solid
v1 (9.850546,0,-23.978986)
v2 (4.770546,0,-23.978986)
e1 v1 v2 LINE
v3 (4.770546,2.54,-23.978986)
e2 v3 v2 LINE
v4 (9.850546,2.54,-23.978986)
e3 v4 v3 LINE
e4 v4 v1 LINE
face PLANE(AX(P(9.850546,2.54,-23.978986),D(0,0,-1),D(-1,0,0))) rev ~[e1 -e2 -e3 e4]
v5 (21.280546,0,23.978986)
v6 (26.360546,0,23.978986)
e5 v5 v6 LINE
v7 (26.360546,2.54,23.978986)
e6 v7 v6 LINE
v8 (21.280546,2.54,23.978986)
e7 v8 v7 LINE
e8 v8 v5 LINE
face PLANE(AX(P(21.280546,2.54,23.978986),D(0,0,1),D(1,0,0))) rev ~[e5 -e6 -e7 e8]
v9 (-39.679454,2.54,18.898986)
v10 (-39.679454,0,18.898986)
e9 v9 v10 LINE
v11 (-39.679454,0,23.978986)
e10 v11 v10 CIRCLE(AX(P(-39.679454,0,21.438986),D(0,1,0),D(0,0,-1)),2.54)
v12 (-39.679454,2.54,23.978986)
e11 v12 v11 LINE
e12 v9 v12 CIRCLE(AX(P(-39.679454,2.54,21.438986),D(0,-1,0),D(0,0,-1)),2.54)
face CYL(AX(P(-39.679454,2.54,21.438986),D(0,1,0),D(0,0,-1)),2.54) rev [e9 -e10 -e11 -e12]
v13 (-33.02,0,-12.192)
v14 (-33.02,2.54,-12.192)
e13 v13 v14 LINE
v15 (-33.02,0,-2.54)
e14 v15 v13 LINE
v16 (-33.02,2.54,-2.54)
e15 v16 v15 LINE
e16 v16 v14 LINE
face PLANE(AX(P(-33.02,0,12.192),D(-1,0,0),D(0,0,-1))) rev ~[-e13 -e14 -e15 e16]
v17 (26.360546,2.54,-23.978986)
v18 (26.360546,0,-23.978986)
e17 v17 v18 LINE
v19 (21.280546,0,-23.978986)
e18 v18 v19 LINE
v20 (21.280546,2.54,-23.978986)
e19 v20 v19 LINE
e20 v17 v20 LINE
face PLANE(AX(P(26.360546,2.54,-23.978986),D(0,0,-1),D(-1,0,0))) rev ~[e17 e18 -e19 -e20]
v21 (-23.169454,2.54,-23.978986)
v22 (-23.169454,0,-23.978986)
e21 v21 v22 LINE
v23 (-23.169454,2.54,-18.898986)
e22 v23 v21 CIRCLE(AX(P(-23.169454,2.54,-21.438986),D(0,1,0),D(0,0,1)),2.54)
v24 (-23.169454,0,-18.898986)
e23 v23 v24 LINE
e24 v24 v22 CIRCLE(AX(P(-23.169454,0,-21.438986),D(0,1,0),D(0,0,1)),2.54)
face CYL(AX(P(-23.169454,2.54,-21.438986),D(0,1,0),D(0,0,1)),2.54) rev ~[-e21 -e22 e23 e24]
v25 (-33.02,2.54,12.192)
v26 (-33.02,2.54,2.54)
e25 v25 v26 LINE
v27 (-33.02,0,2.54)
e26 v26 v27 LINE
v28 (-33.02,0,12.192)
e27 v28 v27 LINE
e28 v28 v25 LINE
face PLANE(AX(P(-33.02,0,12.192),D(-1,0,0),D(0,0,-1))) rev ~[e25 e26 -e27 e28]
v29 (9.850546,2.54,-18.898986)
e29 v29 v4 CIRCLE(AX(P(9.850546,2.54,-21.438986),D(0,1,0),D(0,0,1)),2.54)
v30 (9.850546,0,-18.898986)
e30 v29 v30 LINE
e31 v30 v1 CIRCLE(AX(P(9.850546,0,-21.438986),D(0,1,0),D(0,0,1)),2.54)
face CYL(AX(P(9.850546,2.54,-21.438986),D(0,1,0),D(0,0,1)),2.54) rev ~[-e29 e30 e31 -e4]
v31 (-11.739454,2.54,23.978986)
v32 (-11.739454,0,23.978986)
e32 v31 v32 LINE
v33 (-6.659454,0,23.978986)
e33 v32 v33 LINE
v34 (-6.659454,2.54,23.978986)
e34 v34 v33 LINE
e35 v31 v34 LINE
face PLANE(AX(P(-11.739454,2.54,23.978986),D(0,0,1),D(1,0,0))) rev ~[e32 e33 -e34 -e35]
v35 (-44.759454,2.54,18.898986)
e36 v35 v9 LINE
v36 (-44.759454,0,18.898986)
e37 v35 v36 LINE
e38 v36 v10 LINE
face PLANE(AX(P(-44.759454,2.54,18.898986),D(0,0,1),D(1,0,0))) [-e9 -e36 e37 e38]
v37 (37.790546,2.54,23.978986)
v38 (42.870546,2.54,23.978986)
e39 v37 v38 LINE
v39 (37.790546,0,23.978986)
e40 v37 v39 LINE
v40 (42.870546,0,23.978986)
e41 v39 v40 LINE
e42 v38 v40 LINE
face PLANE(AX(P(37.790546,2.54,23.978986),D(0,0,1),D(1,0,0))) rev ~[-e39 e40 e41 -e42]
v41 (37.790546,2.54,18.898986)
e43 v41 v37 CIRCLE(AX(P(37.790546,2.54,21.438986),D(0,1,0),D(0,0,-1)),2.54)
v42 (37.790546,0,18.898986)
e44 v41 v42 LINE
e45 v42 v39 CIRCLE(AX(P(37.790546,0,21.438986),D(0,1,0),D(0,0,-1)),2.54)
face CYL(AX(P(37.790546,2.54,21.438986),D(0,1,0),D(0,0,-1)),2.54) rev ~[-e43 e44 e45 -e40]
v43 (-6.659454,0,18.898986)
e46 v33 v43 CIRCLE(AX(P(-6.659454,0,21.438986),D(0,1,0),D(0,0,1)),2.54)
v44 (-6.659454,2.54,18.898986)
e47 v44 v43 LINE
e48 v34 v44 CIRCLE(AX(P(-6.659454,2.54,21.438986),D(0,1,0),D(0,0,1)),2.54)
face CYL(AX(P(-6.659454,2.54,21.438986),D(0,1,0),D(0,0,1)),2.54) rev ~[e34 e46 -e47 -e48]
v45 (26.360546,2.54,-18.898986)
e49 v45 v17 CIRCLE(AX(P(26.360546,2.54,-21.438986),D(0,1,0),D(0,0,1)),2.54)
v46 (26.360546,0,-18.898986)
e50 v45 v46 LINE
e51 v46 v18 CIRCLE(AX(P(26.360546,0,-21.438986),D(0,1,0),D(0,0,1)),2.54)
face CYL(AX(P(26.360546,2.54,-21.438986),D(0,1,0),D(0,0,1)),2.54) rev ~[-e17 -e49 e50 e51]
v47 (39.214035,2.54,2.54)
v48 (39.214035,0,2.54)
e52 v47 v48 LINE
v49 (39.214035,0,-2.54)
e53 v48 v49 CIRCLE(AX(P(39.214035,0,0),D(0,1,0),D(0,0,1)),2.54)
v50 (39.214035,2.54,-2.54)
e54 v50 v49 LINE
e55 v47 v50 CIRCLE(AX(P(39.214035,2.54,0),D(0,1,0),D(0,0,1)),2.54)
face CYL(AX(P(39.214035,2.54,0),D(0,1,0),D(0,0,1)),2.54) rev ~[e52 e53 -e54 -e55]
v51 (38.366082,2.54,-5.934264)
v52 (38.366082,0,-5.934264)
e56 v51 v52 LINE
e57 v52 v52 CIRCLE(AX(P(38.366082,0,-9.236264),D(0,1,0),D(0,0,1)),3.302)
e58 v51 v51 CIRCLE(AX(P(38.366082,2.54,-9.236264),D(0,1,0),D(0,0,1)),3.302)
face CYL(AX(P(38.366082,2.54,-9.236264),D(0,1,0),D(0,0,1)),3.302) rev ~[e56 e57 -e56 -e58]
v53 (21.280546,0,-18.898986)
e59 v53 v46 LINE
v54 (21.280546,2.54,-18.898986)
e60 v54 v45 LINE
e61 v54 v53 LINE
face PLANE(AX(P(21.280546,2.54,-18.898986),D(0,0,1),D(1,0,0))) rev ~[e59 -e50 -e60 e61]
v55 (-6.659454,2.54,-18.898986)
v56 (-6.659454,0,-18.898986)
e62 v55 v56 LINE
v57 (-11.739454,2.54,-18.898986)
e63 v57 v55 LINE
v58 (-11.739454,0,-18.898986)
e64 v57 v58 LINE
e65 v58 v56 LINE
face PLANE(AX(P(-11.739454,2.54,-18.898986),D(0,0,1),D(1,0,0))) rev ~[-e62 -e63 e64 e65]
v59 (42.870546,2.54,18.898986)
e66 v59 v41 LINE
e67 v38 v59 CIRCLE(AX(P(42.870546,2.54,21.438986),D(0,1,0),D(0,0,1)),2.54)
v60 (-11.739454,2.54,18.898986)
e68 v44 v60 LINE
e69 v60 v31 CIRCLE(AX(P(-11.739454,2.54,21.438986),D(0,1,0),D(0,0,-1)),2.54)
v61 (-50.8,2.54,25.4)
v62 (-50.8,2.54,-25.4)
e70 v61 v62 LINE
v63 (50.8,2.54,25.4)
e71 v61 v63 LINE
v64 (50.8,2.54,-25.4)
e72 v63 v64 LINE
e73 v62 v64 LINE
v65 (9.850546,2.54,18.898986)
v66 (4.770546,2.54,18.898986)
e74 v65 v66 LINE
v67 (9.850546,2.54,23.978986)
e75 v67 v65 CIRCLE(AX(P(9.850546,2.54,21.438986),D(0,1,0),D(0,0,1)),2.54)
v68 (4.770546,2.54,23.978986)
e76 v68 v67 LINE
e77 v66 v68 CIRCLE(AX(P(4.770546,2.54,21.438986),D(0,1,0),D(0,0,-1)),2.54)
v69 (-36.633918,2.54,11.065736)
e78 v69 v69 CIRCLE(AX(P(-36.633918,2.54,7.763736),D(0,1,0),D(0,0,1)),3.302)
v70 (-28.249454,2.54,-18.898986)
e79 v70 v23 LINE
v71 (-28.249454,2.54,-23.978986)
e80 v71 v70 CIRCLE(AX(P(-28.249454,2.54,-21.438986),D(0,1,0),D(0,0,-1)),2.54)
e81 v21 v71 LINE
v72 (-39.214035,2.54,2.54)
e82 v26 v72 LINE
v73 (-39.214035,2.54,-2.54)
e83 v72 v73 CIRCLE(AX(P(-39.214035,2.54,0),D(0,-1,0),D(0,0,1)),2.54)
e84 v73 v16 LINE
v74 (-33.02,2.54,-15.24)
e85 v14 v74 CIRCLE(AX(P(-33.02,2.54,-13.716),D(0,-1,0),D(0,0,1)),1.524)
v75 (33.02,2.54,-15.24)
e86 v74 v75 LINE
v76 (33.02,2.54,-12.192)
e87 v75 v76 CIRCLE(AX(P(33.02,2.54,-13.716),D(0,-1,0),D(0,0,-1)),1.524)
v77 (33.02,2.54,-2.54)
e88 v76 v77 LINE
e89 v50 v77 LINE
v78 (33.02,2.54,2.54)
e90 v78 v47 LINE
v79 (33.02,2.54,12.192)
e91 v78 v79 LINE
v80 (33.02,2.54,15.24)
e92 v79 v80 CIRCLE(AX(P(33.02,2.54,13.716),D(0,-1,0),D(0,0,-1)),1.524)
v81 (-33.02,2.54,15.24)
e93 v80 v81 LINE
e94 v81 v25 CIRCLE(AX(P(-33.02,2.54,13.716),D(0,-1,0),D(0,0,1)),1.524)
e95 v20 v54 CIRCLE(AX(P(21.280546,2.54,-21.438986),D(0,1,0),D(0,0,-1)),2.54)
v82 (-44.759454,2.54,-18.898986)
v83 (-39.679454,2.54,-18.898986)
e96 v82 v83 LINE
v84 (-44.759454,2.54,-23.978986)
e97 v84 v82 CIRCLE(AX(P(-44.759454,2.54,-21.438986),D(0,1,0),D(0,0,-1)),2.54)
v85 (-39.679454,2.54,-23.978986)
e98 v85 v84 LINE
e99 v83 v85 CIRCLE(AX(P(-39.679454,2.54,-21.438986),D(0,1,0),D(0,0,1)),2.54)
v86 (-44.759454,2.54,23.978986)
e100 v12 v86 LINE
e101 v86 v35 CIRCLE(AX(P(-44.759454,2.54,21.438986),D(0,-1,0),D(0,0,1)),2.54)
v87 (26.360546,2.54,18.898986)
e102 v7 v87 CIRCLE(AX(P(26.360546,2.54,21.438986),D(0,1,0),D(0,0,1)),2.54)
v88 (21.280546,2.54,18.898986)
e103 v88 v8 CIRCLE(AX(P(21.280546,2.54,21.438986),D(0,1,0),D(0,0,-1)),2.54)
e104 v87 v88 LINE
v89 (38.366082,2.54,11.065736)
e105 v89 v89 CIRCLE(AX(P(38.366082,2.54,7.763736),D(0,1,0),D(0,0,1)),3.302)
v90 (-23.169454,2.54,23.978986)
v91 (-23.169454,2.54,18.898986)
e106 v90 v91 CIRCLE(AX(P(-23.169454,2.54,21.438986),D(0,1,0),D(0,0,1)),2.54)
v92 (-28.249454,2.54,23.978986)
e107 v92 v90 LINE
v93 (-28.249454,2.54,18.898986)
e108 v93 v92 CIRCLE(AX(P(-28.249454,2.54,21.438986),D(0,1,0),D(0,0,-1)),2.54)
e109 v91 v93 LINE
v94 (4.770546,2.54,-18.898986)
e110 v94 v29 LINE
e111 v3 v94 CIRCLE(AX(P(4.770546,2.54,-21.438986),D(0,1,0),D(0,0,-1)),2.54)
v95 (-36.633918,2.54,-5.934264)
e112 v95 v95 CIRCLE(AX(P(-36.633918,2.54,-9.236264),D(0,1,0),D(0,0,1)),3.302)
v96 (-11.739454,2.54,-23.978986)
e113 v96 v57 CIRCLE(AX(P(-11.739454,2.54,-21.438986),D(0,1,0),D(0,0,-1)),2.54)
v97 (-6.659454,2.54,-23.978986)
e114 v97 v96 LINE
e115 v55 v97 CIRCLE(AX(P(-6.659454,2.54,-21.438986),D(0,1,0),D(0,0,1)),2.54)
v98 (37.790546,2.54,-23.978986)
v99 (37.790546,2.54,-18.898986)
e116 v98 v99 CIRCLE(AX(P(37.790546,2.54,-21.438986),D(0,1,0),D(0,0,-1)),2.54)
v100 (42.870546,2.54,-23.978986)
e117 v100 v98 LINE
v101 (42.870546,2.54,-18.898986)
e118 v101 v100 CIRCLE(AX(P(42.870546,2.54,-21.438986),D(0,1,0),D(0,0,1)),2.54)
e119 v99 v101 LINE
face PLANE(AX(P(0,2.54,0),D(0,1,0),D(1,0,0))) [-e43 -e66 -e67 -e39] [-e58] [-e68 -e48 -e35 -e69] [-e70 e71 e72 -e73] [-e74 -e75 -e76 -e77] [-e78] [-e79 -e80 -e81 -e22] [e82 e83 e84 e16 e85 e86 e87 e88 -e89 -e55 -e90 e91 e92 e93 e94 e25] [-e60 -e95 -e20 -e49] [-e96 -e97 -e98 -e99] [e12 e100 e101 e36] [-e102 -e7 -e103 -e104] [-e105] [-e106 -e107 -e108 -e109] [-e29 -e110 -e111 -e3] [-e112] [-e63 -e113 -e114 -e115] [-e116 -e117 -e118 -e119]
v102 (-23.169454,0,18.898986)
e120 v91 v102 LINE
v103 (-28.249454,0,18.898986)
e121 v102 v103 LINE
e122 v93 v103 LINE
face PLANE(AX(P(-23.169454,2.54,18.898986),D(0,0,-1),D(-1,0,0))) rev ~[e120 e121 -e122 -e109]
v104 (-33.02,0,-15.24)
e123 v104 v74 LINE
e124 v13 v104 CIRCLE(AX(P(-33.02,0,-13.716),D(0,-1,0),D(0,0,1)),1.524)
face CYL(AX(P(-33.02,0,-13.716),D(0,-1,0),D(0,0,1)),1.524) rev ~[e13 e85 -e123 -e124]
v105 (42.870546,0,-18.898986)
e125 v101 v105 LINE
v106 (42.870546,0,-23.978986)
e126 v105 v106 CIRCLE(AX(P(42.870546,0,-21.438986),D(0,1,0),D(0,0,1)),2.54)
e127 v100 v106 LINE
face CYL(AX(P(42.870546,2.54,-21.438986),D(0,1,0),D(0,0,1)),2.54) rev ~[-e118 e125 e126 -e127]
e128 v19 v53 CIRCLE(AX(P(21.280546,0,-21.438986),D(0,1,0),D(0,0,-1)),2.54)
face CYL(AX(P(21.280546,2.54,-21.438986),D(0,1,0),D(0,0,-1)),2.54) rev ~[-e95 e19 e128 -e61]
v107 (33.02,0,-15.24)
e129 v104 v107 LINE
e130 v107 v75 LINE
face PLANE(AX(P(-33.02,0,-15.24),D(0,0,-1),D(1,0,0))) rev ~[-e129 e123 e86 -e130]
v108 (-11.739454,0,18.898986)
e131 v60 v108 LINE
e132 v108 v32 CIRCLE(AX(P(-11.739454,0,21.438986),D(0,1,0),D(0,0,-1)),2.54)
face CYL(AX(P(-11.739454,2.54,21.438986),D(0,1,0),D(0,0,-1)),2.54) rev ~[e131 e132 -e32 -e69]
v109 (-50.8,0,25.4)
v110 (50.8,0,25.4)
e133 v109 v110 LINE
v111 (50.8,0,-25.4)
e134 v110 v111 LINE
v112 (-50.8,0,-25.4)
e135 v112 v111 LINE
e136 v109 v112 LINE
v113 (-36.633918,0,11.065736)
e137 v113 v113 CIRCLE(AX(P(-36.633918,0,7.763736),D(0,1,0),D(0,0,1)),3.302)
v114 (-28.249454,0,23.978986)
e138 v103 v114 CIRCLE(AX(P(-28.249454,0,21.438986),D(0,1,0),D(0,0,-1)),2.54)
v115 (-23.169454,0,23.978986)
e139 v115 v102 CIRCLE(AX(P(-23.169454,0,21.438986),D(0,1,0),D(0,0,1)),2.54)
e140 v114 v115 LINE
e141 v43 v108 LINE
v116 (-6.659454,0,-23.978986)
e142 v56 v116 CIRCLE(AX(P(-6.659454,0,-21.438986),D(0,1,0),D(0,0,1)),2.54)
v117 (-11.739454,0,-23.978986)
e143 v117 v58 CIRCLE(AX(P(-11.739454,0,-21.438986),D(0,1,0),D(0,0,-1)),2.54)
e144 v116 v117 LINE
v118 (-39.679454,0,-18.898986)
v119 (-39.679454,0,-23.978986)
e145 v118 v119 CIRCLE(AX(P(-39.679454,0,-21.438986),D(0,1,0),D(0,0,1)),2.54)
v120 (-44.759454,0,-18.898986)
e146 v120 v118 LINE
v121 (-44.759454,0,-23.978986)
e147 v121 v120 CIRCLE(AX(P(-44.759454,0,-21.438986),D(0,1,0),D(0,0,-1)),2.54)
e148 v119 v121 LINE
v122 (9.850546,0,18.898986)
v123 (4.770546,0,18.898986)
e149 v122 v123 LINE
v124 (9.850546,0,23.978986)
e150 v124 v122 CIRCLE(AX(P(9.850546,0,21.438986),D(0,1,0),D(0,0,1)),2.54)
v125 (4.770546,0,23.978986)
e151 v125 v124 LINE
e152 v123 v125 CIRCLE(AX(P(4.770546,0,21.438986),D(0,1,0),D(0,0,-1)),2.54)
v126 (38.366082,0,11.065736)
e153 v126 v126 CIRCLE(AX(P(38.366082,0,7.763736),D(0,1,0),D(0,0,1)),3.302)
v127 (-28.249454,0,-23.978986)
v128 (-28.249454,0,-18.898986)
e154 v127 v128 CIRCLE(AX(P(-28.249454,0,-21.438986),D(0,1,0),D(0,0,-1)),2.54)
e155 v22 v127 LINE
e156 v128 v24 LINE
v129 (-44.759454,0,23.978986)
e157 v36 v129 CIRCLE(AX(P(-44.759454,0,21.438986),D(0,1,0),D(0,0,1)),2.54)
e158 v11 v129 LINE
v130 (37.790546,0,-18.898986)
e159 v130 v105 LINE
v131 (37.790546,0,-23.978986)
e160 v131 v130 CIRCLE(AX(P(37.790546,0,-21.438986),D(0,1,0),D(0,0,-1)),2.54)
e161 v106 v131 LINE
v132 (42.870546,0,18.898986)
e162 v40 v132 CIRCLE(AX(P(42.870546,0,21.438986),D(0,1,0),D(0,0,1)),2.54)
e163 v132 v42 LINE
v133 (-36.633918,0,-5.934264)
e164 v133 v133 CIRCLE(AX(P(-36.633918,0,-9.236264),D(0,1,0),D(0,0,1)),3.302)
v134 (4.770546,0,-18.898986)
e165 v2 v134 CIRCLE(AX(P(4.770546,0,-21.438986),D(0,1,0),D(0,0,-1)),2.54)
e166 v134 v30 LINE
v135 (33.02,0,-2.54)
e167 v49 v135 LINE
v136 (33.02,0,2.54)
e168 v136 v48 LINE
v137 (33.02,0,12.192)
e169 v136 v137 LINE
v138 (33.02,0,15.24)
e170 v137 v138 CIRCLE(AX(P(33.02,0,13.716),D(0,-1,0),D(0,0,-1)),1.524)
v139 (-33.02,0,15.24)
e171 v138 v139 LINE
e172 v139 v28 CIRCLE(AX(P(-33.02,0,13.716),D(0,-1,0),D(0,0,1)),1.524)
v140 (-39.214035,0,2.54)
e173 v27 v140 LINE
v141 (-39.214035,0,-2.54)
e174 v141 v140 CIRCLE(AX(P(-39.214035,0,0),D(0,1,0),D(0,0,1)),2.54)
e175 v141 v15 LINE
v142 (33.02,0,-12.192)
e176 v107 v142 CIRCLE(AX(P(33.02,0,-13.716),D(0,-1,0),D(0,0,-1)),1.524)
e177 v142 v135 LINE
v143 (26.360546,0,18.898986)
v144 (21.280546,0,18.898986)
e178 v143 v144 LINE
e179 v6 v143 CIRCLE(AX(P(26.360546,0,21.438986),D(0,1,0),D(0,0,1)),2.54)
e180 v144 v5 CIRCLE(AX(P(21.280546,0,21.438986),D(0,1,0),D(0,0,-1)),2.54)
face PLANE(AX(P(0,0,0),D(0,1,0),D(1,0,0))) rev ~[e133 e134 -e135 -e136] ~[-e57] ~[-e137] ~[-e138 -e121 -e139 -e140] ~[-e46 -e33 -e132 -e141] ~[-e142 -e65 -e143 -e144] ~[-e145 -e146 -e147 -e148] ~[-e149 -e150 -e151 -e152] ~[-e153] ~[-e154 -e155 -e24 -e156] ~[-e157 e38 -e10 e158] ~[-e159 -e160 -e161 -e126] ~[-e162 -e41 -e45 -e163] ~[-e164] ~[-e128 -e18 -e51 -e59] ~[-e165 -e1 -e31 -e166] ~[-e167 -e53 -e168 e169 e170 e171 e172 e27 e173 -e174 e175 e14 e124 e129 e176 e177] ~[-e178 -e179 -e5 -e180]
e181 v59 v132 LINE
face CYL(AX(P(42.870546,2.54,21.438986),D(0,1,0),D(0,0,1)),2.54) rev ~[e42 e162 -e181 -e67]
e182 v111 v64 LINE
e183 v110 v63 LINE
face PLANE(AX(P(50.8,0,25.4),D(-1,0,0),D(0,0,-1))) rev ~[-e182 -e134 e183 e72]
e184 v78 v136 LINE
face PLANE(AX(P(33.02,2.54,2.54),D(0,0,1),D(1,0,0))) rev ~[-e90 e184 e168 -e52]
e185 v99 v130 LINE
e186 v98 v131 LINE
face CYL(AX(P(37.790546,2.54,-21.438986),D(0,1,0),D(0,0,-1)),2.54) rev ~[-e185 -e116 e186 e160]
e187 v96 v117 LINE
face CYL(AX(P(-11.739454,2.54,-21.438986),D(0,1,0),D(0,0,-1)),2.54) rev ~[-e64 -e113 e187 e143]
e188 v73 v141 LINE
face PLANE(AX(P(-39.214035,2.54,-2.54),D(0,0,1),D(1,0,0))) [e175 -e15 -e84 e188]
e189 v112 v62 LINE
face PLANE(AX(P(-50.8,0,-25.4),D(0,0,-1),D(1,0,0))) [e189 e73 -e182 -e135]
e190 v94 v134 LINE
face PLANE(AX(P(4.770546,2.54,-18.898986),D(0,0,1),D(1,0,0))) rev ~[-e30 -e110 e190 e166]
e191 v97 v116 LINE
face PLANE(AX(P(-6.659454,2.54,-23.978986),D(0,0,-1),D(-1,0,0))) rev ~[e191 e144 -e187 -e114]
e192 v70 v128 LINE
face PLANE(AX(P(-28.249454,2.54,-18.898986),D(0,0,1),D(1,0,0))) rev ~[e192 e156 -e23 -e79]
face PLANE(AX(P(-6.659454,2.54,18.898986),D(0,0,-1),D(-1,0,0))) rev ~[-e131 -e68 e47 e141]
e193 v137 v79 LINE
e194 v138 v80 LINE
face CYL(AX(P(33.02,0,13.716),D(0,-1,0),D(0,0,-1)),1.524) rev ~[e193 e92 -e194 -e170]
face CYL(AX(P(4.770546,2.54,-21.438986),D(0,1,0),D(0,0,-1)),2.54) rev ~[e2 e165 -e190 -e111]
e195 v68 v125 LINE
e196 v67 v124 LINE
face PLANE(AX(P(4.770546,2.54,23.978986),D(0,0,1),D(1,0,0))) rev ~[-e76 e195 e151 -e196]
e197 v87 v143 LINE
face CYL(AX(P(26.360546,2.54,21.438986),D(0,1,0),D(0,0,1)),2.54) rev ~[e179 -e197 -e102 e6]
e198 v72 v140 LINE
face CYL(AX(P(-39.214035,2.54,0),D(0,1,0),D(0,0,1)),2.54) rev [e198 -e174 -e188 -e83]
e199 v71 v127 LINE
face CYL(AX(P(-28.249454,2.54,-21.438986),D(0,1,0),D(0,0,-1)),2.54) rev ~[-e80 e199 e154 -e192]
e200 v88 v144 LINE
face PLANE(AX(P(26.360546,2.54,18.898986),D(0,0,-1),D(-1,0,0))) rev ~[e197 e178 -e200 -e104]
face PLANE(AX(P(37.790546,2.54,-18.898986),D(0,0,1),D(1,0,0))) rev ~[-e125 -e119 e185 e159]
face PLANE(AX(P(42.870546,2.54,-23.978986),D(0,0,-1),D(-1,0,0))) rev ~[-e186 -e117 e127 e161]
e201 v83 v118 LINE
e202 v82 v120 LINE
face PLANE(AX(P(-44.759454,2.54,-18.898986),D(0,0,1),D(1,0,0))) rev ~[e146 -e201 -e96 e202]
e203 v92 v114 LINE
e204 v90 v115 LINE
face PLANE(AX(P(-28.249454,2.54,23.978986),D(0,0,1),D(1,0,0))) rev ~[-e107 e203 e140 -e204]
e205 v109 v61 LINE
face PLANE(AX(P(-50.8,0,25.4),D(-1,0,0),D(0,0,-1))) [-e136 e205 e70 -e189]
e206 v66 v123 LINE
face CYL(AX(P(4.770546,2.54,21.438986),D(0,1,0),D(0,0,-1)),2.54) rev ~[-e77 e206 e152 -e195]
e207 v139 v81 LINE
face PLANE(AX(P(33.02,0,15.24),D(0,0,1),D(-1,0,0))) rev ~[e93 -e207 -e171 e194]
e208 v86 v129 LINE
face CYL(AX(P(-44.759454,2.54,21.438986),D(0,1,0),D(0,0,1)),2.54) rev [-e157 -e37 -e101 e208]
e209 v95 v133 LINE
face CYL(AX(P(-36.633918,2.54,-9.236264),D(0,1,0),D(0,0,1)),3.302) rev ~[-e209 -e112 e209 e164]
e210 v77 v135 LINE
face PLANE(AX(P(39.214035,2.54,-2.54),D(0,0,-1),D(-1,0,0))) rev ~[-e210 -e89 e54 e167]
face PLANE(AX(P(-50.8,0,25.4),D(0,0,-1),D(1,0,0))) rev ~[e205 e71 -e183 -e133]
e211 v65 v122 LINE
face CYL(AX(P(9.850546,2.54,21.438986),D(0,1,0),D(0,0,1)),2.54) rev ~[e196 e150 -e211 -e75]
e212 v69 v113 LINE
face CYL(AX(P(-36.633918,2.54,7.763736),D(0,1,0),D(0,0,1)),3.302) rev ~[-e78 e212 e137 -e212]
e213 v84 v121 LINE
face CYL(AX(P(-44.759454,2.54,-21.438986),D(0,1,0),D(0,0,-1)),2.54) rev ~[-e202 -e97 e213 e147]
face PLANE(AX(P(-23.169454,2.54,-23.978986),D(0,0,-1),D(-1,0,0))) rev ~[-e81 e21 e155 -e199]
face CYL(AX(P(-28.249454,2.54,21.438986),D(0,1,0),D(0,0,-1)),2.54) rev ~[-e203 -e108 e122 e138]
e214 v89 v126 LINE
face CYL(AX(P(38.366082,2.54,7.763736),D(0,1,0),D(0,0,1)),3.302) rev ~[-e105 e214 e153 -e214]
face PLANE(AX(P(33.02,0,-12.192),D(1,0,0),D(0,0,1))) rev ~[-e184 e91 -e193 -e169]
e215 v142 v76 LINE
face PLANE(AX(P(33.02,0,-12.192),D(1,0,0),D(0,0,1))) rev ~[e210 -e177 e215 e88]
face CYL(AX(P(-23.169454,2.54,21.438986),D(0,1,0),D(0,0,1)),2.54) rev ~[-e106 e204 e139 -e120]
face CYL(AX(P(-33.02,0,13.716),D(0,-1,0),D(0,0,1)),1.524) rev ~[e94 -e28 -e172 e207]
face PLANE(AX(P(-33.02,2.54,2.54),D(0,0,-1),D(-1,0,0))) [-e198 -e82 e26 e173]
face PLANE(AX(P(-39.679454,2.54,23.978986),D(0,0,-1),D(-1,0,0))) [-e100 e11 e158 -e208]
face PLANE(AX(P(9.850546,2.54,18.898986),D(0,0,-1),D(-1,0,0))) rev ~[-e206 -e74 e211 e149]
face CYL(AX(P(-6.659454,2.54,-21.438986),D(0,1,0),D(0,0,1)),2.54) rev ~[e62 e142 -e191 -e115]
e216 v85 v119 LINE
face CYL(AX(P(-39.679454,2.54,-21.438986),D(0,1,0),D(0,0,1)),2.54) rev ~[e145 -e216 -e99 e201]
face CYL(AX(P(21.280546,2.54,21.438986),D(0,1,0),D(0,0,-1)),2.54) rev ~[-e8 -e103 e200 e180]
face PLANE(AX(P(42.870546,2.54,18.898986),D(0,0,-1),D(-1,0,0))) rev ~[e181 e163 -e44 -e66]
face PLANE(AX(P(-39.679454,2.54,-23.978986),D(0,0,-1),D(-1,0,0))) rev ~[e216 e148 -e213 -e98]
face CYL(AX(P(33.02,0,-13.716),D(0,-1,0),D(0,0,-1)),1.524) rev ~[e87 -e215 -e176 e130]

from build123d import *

# Parameters (mm, degrees)
SKETCH1_W           = 101.6
SKETCH1_H           = 50.8
BOSS_EXTRUDE1_DEPTH = 2.54
CUT_EXTRUDE1_DEPTH  = 57.852894385
CUT_EXTRUDE2_DEPTH  = 57.852894385
SKETCH4_R           = 3.302
CUT_EXTRUDE3_DEPTH  = 57.852894385


with BuildPart() as part:
    # Sketch1 → Boss-Extrude1 (new body)
    with BuildSketch(Plane(origin=(0, 0, 0), x_dir=(1, 0, 0), z_dir=(0, 1, 0))):
        Rectangle(SKETCH1_W, SKETCH1_H)
        with BuildLine():
            Line((-33.02, 15.24), (33.02, 15.24))
            ThreePointArc((33.02, 15.24), (34.544, 13.716), (33.02, 12.192))
            Line((33.02, 12.192), (33.02, -12.192))
            ThreePointArc((33.02, -12.192), (34.544, -13.716), (33.02, -15.24))
            Line((33.02, -15.24), (-33.02, -15.24))
            ThreePointArc((-33.02, -15.24), (-34.544, -13.716), (-33.02, -12.192))
            Line((-33.02, -12.192), (-33.02, 12.192))
            ThreePointArc((-33.02, 12.192), (-34.544, 13.716), (-33.02, 15.24))
        make_face(mode=Mode.SUBTRACT)
    extrude(amount=BOSS_EXTRUDE1_DEPTH)

    # Sketch2 → Cut-Extrude1 (cut, through all)
    with BuildSketch(Plane(origin=(0, 2.54, 0), x_dir=(1, 0, 0), z_dir=(0, 1, 0))):
        with BuildLine():
            Line((-44.759454191, -18.898986355), (-39.679454191, -18.898986355))
            ThreePointArc((-39.679454191, -18.898986355), (-37.139454191, -21.438986355), (-39.679454191, -23.978986355))
            Line((-39.679454191, -23.978986355), (-44.759454191, -23.978986355))
            ThreePointArc((-44.759454191, -23.978986355), (-47.299454191, -21.438986355), (-44.759454191, -18.898986355))
        make_face()
        with BuildLine():
            Line((-28.249454191, -23.978986355), (-23.169454191, -23.978986355))
            ThreePointArc((-23.169454191, -23.978986355), (-20.629454191, -21.438986355), (-23.169454191, -18.898986355))
            Line((-23.169454191, -18.898986355), (-28.249454191, -18.898986355))
            ThreePointArc((-28.249454191, -18.898986355), (-30.789454191, -21.438986355), (-28.249454191, -23.978986355))
        make_face()
        with BuildLine():
            Line((-11.739454191, -23.978986355), (-6.659454191, -23.978986355))
            ThreePointArc((-6.659454191, -23.978986355), (-4.119454191, -21.438986355), (-6.659454191, -18.898986355))
            Line((-6.659454191, -18.898986355), (-11.739454191, -18.898986355))
            ThreePointArc((-11.739454191, -18.898986355), (-14.279454191, -21.438986355), (-11.739454191, -23.978986355))
        make_face()
        with BuildLine():
            Line((4.770545809, -23.978986355), (9.850545809, -23.978986355))
            ThreePointArc((9.850545809, -23.978986355), (12.390545809, -21.438986355), (9.850545809, -18.898986355))
            Line((9.850545809, -18.898986355), (4.770545809, -18.898986355))
            ThreePointArc((4.770545809, -18.898986355), (2.230545809, -21.438986355), (4.770545809, -23.978986355))
        make_face()
        with BuildLine():
            Line((21.280545809, -23.978986355), (26.360545809, -23.978986355))
            ThreePointArc((26.360545809, -23.978986355), (28.900545809, -21.438986355), (26.360545809, -18.898986355))
            Line((26.360545809, -18.898986355), (21.280545809, -18.898986355))
            ThreePointArc((21.280545809, -18.898986355), (18.740545809, -21.438986355), (21.280545809, -23.978986355))
        make_face()
        with BuildLine():
            Line((37.790545809, -23.978986355), (42.870545809, -23.978986355))
            ThreePointArc((42.870545809, -23.978986355), (45.410545809, -21.438986355), (42.870545809, -18.898986355))
            Line((42.870545809, -18.898986355), (37.790545809, -18.898986355))
            ThreePointArc((37.790545809, -18.898986355), (35.250545809, -21.438986355), (37.790545809, -23.978986355))
        make_face()
        with BuildLine():
            Line((-28.249454191, 18.898986355), (-23.169454191, 18.898986355))
            ThreePointArc((-23.169454191, 18.898986355), (-20.629454191, 21.438986355), (-23.169454191, 23.978986355))
            Line((-23.169454191, 23.978986355), (-28.249454191, 23.978986355))
            ThreePointArc((-28.249454191, 23.978986355), (-30.789454191, 21.438986355), (-28.249454191, 18.898986355))
        make_face()
        with BuildLine():
            Line((37.790545809, 18.898986355), (42.870545809, 18.898986355))
            ThreePointArc((42.870545809, 18.898986355), (45.410545809, 21.438986355), (42.870545809, 23.978986355))
            Line((42.870545809, 23.978986355), (37.790545809, 23.978986355))
            ThreePointArc((37.790545809, 23.978986355), (35.250545809, 21.438986355), (37.790545809, 18.898986355))
        make_face()
        with BuildLine():
            Line((21.280545809, 18.898986355), (26.360545809, 18.898986355))
            ThreePointArc((26.360545809, 18.898986355), (28.900545809, 21.438986355), (26.360545809, 23.978986355))
            Line((26.360545809, 23.978986355), (21.280545809, 23.978986355))
            ThreePointArc((21.280545809, 23.978986355), (18.740545809, 21.438986355), (21.280545809, 18.898986355))
        make_face()
        with BuildLine():
            Line((4.770545809, 18.898986355), (9.850545809, 18.898986355))
            ThreePointArc((9.850545809, 18.898986355), (12.390545809, 21.438986355), (9.850545809, 23.978986355))
            Line((9.850545809, 23.978986355), (4.770545809, 23.978986355))
            ThreePointArc((4.770545809, 23.978986355), (2.230545809, 21.438986355), (4.770545809, 18.898986355))
        make_face()
        with BuildLine():
            Line((-11.739454191, 18.898986355), (-6.659454191, 18.898986355))
            ThreePointArc((-6.659454191, 18.898986355), (-4.119454191, 21.438986355), (-6.659454191, 23.978986355))
            Line((-6.659454191, 23.978986355), (-11.739454191, 23.978986355))
            ThreePointArc((-11.739454191, 23.978986355), (-14.279454191, 21.438986355), (-11.739454191, 18.898986355))
        make_face()
        with BuildLine():
            Line((-44.759454191, 18.898986355), (-39.679454191, 18.898986355))
            ThreePointArc((-39.679454191, 18.898986355), (-37.139454191, 21.438986355), (-39.679454191, 23.978986355))
            Line((-39.679454191, 23.978986355), (-44.759454191, 23.978986355))
            ThreePointArc((-44.759454191, 23.978986355), (-47.299454191, 21.438986355), (-44.759454191, 18.898986355))
        make_face()
    extrude(amount=-CUT_EXTRUDE1_DEPTH, mode=Mode.SUBTRACT)

    # Sketch3 → Cut-Extrude2 (cut, through all)
    with BuildSketch(Plane(origin=(0, 2.54, 0), x_dir=(1, 0, 0), z_dir=(0, 1, 0))):
        with BuildLine():
            Line((-33.02, -2.54), (-39.214035088, -2.54))
            ThreePointArc((-39.214035088, -2.54), (-41.754035088, 0), (-39.214035088, 2.54))
            Line((-39.214035088, 2.54), (-33.02, 2.54))
            ThreePointArc((-33.02, 2.54), (-30.48, 0), (-33.02, -2.54))
        make_face()
        with BuildLine():
            Line((33.02, -2.54), (39.214035088, -2.54))
            ThreePointArc((39.214035088, -2.54), (41.754035088, 0), (39.214035088, 2.54))
            Line((39.214035088, 2.54), (33.02, 2.54))
            ThreePointArc((33.02, 2.54), (30.48, 0), (33.02, -2.54))
        make_face()
    extrude(amount=-CUT_EXTRUDE2_DEPTH, mode=Mode.SUBTRACT)

    # Sketch4 → Cut-Extrude3 (cut, through all)
    with BuildSketch(Plane(origin=(0, 2.54, 0), x_dir=(1, 0, 0), z_dir=(0, 1, 0))):
        with Locations(Location((-36.633918246, -7.763735779, 0), (0, 0, 270))):
            Circle(SKETCH4_R)
        with Locations(Location((-36.633918246, 9.236264221, 0), (0, 0, 270))):
            Circle(SKETCH4_R)
        with Locations(Location((38.366081754, -7.763735779, 0), (0, 0, 270))):
            Circle(SKETCH4_R)
        with Locations(Location((38.366081754, 9.236264221, 0), (0, 0, 270))):
            Circle(SKETCH4_R)
    extrude(amount=-CUT_EXTRUDE3_DEPTH, mode=Mode.SUBTRACT)


solid = part.part
